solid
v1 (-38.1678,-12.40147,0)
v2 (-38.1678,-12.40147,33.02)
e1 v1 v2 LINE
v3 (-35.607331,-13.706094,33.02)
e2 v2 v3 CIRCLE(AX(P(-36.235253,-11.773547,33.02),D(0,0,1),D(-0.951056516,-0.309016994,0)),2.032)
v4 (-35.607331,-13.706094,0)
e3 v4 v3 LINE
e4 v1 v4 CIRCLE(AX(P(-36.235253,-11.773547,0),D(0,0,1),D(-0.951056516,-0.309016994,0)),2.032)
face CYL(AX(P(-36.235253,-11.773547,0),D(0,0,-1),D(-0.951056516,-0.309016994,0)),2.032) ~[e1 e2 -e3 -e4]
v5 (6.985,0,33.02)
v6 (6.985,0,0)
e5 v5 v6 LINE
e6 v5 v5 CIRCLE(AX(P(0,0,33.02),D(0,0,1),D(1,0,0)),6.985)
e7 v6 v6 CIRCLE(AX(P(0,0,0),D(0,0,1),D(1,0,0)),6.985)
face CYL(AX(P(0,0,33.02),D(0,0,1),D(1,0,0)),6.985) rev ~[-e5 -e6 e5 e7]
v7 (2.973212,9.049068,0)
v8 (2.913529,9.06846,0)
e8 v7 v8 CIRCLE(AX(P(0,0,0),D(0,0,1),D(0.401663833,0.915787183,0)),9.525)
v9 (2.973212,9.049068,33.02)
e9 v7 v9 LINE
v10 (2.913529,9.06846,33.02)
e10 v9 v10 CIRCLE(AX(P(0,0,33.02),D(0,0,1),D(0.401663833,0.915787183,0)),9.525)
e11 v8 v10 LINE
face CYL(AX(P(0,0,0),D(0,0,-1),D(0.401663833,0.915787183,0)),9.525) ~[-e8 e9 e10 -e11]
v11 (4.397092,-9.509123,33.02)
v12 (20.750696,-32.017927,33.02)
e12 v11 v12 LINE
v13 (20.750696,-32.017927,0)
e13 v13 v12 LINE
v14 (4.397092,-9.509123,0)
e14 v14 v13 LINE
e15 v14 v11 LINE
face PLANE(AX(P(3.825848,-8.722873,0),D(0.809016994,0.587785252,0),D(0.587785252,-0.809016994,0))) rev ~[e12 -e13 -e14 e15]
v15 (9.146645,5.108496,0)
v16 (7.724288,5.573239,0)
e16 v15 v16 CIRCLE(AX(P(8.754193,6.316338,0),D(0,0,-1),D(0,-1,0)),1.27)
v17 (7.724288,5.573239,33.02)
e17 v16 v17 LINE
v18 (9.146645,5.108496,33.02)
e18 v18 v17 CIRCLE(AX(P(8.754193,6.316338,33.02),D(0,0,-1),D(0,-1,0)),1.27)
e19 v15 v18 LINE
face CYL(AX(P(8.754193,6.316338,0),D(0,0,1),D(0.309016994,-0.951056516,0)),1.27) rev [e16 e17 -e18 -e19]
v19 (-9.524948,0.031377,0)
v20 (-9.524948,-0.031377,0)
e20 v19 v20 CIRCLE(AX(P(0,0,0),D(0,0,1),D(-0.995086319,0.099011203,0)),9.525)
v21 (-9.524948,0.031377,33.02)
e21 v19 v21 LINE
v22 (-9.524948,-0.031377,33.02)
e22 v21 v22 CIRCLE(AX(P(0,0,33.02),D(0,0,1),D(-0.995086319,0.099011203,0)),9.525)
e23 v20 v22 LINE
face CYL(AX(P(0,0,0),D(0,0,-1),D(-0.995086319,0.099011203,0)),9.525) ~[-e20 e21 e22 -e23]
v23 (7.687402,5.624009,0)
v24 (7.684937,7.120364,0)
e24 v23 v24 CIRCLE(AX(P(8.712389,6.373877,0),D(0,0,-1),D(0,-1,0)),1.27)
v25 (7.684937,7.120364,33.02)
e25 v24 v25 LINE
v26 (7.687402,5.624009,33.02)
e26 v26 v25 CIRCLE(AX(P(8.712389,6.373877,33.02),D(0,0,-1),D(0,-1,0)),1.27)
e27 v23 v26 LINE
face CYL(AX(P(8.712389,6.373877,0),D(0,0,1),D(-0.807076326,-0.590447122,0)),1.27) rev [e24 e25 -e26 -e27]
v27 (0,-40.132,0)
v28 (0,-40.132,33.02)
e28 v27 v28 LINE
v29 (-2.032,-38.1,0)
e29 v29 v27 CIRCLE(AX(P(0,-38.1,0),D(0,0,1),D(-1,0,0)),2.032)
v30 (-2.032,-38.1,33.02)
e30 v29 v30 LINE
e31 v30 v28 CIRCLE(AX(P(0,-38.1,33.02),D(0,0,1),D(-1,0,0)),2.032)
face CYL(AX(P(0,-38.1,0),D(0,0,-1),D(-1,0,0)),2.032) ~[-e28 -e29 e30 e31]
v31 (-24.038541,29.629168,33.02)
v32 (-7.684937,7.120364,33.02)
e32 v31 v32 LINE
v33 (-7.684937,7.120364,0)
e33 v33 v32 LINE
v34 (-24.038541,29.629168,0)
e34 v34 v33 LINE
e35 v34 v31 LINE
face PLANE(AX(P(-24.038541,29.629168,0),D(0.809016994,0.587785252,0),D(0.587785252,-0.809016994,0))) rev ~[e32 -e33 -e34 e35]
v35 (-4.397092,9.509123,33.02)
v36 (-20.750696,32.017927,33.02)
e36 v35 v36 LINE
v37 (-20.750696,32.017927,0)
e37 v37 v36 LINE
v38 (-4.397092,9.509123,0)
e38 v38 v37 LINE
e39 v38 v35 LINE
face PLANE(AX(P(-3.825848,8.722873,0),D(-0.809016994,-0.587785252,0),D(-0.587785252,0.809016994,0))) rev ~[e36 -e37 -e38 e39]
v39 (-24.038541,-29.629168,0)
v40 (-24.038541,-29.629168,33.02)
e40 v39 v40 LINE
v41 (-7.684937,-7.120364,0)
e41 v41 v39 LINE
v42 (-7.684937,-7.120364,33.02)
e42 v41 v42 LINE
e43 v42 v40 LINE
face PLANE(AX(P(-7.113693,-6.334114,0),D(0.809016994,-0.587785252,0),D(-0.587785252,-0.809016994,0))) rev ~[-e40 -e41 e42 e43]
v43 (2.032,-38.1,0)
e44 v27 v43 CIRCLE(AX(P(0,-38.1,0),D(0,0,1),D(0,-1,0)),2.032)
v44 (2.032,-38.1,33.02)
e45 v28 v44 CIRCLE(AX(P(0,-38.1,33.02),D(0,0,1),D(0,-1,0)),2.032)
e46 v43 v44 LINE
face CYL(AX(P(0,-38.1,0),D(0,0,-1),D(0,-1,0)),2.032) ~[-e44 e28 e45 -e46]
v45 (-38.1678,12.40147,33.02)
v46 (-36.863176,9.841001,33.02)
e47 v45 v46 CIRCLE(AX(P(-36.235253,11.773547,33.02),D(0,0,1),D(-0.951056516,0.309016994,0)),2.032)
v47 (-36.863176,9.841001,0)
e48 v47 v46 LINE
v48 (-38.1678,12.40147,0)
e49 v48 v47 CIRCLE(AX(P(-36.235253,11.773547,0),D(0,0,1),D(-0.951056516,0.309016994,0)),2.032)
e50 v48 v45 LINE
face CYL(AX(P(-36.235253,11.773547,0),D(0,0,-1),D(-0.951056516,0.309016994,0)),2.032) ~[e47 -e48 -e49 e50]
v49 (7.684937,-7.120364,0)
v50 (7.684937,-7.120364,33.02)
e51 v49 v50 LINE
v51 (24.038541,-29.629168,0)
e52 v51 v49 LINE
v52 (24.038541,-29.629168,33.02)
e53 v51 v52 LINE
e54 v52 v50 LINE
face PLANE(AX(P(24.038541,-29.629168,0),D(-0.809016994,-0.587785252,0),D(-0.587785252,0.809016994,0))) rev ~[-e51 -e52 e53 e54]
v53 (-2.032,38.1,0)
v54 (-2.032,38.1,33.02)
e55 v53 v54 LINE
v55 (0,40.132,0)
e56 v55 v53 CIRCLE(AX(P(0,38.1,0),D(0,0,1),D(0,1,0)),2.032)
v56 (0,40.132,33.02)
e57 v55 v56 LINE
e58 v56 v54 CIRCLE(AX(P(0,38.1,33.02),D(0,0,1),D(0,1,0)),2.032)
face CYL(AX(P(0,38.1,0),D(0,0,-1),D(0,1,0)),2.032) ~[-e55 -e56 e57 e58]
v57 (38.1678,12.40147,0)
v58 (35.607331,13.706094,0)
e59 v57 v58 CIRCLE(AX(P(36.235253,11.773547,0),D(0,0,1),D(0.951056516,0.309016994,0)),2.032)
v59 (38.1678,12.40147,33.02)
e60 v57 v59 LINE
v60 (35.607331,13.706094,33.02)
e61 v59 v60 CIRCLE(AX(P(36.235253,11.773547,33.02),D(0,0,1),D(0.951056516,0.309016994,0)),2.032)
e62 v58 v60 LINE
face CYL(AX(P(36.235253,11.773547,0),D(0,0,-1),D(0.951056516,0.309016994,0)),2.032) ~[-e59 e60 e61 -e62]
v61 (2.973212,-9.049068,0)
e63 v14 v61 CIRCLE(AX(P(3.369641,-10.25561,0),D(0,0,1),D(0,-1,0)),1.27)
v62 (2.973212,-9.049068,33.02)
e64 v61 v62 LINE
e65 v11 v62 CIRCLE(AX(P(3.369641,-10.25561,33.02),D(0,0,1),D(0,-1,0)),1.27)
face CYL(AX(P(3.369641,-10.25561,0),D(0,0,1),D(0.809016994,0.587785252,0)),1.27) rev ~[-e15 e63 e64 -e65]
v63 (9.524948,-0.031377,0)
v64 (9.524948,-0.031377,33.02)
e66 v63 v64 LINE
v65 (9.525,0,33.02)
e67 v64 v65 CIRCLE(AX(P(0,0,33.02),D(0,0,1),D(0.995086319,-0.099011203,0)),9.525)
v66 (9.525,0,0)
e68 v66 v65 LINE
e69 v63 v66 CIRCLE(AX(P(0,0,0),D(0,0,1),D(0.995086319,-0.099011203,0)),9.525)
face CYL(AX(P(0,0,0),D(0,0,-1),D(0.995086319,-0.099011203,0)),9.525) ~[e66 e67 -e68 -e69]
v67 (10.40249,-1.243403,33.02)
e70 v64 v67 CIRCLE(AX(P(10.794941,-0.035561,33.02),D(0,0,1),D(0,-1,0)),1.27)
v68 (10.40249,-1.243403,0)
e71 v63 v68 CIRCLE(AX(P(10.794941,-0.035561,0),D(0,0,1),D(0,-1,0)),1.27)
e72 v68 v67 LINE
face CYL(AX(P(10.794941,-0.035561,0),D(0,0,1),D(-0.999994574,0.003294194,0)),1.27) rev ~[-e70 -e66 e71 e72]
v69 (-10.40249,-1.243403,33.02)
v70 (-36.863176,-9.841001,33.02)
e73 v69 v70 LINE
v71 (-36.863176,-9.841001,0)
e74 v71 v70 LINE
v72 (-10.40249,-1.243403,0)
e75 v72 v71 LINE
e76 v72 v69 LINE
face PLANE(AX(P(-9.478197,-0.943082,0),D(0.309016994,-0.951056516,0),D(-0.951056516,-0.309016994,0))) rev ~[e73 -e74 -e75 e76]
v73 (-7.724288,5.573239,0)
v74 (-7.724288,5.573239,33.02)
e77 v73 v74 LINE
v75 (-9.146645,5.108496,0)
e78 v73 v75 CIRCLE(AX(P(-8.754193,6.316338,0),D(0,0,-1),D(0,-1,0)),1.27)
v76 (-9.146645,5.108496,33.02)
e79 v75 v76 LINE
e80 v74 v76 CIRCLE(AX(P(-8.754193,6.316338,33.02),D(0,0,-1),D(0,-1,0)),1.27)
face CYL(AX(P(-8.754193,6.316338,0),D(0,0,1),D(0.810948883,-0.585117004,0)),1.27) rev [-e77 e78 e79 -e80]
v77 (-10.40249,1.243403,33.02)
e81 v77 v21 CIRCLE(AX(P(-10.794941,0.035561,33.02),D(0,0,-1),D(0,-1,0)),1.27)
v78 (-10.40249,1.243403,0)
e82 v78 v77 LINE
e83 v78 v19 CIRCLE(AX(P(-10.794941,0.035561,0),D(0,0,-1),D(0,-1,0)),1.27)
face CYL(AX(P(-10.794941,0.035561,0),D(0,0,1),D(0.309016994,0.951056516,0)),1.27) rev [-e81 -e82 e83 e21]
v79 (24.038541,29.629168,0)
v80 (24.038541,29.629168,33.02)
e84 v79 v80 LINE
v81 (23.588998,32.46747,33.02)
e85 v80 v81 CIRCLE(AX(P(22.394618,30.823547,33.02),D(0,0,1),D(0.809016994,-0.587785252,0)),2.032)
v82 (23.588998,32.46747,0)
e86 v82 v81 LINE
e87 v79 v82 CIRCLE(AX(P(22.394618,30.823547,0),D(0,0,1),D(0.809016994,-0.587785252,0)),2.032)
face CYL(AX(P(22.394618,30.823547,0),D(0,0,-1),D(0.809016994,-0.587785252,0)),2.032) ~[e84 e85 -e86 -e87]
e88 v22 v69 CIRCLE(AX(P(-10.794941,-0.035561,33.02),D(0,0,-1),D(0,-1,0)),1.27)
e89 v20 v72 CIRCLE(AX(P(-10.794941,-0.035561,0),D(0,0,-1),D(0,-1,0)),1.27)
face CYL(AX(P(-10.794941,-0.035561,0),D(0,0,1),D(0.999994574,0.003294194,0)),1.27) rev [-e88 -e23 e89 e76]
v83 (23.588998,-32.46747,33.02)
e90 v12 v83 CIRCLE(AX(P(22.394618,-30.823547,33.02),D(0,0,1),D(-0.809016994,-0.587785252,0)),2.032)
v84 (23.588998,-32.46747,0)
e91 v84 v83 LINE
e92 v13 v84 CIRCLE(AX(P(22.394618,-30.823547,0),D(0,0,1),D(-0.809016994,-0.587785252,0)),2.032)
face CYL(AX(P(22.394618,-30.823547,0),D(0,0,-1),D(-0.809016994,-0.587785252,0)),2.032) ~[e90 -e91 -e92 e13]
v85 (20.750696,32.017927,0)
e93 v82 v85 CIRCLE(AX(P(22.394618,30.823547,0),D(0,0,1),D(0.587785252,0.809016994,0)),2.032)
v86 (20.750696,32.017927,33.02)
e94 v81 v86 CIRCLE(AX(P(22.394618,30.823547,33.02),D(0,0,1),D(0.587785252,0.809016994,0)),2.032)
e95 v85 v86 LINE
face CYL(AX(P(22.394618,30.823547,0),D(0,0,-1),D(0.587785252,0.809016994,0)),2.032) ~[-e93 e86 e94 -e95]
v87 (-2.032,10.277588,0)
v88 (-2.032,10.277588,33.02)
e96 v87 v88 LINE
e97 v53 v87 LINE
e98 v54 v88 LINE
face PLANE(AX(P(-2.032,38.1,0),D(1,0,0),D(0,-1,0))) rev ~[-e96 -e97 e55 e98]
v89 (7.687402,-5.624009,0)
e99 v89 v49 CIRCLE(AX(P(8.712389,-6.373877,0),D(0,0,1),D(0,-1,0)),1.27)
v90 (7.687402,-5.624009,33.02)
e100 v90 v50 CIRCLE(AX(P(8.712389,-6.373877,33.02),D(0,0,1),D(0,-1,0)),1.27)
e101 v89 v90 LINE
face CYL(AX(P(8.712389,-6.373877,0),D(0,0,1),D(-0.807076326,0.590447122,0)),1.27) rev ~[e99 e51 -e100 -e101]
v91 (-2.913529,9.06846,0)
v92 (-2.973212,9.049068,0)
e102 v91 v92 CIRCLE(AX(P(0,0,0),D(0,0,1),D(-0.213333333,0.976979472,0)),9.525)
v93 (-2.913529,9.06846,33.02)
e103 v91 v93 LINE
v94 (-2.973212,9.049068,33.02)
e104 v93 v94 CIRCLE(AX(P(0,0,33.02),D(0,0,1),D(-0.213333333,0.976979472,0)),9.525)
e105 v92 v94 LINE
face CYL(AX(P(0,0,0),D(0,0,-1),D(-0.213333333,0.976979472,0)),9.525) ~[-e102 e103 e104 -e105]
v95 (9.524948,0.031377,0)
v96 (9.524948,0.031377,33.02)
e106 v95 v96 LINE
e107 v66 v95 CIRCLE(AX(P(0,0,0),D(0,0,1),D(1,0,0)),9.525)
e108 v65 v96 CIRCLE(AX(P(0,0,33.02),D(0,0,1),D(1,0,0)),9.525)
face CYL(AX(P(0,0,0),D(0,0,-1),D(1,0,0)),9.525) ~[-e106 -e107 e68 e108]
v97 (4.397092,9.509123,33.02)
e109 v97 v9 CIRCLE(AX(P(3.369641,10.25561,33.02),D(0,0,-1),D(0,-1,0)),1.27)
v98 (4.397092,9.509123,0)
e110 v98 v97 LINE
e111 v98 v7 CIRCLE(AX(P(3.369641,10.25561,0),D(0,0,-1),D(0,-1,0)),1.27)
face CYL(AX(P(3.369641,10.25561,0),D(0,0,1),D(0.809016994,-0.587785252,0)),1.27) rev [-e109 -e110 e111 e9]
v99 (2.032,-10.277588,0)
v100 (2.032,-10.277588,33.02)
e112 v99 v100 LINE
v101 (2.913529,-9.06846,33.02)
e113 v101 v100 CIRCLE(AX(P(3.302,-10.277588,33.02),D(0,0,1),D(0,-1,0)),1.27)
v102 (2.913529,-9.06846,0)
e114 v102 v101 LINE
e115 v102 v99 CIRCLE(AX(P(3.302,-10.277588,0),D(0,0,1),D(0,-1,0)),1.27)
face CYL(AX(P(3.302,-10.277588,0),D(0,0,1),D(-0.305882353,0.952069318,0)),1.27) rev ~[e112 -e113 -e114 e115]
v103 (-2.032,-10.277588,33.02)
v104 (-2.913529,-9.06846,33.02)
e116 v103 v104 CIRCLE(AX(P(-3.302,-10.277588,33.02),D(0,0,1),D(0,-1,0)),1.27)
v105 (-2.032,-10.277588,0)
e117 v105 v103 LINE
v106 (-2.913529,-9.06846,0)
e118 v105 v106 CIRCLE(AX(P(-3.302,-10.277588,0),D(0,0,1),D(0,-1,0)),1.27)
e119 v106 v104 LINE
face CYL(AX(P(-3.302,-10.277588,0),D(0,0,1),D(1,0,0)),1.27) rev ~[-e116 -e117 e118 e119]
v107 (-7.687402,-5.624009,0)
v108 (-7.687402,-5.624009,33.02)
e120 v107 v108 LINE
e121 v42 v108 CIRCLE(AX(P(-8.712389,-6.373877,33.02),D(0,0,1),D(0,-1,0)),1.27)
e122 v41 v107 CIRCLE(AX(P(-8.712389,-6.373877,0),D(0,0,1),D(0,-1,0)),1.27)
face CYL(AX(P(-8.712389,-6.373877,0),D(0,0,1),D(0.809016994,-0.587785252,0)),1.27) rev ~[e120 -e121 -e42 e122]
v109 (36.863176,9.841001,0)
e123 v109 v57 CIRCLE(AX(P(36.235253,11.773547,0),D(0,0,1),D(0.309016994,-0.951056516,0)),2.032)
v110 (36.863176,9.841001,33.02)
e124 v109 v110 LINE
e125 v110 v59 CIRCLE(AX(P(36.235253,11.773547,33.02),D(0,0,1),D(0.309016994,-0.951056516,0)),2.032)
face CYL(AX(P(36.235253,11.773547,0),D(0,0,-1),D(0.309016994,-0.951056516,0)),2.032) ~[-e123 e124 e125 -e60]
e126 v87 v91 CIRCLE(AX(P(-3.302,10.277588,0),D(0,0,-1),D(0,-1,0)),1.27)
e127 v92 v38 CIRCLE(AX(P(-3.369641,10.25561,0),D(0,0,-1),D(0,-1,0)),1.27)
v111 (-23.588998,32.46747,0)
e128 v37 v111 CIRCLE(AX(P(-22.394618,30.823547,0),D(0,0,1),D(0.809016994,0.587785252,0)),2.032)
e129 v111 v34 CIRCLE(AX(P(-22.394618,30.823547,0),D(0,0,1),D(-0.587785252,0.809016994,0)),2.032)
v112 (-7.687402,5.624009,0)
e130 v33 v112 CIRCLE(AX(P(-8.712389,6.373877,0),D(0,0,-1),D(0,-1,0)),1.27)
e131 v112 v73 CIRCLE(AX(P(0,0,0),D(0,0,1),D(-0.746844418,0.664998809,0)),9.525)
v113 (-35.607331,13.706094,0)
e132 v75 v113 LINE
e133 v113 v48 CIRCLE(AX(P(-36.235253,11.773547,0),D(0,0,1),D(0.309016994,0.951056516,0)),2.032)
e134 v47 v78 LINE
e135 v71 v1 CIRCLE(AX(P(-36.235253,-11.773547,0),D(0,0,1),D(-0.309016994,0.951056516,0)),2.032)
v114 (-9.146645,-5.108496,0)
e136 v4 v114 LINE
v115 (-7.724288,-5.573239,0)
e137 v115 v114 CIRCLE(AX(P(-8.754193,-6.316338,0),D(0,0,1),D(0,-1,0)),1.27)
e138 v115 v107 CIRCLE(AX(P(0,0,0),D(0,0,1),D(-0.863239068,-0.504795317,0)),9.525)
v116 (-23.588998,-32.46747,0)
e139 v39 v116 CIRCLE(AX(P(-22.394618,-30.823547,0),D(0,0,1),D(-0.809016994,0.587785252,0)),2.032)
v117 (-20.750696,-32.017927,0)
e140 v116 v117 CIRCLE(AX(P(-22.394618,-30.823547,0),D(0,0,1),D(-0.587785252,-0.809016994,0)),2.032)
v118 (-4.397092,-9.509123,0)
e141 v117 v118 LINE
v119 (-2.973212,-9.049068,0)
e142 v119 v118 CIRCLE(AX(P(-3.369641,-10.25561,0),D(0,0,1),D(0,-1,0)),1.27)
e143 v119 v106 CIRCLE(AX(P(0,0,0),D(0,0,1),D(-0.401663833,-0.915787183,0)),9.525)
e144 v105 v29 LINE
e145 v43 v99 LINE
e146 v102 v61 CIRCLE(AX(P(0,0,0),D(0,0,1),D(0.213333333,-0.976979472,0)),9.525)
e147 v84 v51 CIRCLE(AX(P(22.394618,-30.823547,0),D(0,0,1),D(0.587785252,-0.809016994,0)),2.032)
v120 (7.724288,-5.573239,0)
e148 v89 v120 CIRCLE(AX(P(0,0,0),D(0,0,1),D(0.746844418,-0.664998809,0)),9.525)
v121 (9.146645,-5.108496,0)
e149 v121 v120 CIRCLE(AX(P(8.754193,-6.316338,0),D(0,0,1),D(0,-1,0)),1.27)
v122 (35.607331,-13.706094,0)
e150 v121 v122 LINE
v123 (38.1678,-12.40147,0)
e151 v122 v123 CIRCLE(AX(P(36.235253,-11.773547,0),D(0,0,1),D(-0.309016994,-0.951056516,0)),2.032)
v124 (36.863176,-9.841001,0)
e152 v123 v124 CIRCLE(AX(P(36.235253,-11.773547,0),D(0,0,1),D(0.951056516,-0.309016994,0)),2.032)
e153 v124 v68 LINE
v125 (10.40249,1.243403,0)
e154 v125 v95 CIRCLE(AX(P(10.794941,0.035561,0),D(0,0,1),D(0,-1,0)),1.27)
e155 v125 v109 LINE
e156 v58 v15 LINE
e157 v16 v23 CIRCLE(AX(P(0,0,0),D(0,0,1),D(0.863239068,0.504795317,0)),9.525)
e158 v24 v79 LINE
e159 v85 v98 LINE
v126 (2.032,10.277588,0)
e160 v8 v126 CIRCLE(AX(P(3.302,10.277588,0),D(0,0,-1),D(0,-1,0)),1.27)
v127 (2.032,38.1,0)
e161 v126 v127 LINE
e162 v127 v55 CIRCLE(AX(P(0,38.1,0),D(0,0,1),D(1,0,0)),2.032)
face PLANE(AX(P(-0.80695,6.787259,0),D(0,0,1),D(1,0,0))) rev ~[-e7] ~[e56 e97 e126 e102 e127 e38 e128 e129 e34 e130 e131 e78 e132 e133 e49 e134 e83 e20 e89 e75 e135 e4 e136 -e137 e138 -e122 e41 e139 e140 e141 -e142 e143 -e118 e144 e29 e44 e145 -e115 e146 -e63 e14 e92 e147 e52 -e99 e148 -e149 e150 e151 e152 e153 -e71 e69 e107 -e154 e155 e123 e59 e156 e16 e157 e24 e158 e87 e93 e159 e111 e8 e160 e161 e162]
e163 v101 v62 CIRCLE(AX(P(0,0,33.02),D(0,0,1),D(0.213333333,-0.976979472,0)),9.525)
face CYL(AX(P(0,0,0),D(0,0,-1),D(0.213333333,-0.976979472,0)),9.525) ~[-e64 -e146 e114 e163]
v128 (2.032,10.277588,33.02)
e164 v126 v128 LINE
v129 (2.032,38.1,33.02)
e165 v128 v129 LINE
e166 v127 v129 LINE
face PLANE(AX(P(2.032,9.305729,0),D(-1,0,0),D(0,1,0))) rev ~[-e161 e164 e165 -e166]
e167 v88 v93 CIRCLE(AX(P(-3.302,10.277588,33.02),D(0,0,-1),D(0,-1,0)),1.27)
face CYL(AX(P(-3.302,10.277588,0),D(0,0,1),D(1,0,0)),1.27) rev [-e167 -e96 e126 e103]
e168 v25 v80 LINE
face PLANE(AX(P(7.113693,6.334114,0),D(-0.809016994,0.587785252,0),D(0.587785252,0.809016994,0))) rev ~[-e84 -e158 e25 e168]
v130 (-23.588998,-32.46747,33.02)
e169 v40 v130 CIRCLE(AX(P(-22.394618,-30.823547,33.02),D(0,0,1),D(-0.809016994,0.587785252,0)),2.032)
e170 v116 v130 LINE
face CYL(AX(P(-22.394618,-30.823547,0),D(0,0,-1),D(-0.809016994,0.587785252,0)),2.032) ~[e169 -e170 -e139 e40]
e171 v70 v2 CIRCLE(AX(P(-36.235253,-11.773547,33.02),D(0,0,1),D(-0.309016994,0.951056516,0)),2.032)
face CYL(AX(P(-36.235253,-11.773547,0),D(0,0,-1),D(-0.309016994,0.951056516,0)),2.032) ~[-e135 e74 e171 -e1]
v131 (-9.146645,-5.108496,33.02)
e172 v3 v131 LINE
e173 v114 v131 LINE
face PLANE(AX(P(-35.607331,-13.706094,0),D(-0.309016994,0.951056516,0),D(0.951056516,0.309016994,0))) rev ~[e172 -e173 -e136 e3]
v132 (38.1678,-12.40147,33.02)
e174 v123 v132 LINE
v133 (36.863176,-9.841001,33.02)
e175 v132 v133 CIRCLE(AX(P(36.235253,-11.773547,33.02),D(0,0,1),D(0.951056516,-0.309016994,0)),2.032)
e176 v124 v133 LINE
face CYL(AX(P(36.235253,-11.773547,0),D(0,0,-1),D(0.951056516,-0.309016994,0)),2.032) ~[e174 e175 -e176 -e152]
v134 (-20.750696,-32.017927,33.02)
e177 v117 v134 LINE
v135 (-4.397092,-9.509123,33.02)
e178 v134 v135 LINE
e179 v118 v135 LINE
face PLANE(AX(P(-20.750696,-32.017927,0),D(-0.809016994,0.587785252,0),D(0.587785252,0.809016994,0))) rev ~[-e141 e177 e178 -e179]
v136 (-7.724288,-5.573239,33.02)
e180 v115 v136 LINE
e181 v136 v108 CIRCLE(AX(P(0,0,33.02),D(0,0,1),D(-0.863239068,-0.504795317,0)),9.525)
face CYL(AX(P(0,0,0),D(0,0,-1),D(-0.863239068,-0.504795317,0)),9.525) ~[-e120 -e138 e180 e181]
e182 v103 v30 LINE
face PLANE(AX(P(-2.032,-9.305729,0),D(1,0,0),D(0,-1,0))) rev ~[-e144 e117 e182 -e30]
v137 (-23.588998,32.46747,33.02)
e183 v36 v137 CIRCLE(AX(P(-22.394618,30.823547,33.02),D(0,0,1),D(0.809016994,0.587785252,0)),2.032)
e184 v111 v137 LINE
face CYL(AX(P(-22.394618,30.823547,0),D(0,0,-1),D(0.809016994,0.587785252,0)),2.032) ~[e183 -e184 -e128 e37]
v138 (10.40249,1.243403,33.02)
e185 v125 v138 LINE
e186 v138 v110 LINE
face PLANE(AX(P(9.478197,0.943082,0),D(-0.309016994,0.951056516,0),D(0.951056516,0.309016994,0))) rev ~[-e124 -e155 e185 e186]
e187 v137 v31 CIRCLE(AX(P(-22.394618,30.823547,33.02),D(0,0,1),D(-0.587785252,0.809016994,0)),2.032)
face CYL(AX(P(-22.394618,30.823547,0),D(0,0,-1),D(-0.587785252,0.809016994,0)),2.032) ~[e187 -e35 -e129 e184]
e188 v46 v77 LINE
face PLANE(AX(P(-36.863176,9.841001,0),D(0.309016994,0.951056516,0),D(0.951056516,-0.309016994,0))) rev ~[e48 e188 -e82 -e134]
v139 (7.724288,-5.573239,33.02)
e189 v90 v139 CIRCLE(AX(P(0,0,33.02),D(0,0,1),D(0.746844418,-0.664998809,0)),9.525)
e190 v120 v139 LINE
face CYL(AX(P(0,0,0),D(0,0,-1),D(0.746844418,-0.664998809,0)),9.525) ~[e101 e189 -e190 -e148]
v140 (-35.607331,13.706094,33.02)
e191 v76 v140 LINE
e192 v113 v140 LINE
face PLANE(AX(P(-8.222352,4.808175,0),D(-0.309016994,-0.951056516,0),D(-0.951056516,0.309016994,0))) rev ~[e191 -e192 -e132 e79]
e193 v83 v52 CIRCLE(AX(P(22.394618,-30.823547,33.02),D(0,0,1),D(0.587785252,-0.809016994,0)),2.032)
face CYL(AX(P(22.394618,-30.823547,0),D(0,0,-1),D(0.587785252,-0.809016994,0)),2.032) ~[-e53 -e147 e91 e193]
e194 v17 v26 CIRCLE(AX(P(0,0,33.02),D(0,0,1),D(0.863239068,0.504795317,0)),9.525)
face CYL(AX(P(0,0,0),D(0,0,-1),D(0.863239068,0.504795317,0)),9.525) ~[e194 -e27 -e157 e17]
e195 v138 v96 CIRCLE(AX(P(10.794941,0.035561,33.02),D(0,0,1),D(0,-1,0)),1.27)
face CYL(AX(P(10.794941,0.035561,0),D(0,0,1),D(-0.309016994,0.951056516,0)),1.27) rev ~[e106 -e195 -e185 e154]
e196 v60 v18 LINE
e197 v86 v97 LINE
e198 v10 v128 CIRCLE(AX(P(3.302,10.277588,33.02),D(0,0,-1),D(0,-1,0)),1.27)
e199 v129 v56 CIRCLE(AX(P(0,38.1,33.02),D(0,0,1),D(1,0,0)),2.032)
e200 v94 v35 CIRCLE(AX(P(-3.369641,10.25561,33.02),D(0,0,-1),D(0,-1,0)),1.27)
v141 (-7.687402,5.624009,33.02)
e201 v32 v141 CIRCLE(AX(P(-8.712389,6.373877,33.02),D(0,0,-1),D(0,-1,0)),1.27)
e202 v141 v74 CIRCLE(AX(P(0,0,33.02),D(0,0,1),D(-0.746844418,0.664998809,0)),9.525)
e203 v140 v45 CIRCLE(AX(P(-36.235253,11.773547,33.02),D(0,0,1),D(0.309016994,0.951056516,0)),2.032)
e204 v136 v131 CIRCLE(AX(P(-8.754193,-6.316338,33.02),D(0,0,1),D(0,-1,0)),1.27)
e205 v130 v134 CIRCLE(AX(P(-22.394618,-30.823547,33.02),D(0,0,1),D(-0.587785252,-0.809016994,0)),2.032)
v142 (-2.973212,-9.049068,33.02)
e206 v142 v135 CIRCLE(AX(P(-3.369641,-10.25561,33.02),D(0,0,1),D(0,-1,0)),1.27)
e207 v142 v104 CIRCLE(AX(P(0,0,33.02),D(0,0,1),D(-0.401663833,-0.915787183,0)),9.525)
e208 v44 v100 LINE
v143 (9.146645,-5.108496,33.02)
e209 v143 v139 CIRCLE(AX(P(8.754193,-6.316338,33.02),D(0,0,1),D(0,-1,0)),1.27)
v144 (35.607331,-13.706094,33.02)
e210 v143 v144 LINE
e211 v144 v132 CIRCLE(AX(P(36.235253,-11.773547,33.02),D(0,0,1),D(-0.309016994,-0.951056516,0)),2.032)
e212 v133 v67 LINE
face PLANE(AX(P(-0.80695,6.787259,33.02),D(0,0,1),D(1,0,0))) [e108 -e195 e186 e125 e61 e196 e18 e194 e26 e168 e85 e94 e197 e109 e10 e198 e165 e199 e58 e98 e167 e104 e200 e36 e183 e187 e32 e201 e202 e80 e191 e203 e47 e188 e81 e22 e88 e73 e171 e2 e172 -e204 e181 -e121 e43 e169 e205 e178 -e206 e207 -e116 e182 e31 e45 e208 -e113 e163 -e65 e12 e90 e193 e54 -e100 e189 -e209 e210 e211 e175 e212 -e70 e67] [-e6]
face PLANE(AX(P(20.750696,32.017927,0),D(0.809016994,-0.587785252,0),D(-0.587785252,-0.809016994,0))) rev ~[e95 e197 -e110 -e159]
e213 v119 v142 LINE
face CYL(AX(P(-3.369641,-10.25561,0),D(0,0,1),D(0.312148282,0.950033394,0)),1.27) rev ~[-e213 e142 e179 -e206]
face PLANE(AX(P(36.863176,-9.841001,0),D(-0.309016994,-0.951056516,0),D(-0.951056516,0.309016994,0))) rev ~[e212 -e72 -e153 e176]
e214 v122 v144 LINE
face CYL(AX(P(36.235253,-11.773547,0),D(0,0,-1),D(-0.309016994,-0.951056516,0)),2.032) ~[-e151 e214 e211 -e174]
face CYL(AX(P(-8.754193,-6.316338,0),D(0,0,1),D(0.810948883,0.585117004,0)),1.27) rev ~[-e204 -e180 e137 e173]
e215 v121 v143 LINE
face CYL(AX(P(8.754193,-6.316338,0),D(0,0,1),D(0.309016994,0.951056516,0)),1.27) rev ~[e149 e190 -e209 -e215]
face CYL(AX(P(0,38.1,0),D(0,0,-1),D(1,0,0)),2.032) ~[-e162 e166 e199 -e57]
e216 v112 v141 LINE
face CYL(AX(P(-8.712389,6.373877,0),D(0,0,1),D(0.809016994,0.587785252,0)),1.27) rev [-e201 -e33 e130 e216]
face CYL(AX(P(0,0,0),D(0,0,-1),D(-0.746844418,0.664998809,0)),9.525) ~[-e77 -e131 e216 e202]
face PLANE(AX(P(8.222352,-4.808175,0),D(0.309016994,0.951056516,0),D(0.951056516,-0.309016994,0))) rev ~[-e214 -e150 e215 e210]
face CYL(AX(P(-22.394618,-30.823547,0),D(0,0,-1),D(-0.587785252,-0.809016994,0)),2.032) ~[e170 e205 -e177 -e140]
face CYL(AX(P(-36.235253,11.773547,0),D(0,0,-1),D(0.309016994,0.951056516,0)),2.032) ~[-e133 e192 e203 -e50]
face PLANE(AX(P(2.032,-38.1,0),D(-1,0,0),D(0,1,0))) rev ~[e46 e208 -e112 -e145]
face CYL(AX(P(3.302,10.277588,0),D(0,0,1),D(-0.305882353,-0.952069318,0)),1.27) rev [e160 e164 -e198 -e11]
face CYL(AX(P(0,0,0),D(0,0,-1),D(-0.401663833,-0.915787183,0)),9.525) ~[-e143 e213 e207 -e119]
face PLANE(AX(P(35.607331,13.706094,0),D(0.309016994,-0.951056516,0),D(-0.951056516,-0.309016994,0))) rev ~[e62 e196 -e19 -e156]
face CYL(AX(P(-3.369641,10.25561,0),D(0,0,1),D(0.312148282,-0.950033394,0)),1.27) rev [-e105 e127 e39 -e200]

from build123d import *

# Parameters (mm, degrees)
F1_DEPTH = 33.02
F2_R     = 6.985
F3_DEPTH = 33.021
F4_R     = 1.27


with BuildPart() as f1:
    # F0 (on Top) → F1 (new body)
    with BuildSketch(Plane.XY):
        with BuildLine():
            Line((-2.032, 6.2538529475), (0, 3.4570448851))
            Line((0, 3.4570448851), (0, 9.525))
            ThreePointArc((0, 9.525), (-1.0218981804, 9.4700237122), (-2.032, 9.3057294717))
            Line((-2.032, 9.3057294717), (-2.032, 6.2538529475))
        make_face()
        with BuildLine():
            Line((0, 9.525), (0, 3.4570448851))
            Line((0, 3.4570448851), (2.032, 6.2538529475))
            Line((2.032, 6.2538529475), (2.032, 9.3057294717))
            ThreePointArc((2.032, 9.3057294717), (1.0218981804, 9.4700237122), (0, 9.525))
        make_face()
        with BuildLine():
            Line((-5.5986545281, 7.7058868714), (-2.032, 2.7968080624))
            Line((-2.032, 2.7968080624), (-2.032, 6.2538529475))
            Line((-2.032, 6.2538529475), (-3.8258480127, 8.7228729203))
            ThreePointArc((-3.8258480127, 8.7228729203), (-4.7396072824, 8.2620668001), (-5.5986545281, 7.7058868714))
        make_face()
        with BuildLine():
            Line((-5.3198450651, 3.8650936822), (-2.032, 2.7968080624))
            Line((-2.032, 2.7968080624), (-5.5986545281, 7.7058868714))
            ThreePointArc((-5.5986545281, 7.7058868714), (-6.3930732713, 7.0607534405), (-7.1136930778, 6.334113655))
            Line((-7.1136930778, 6.334113655), (-5.3198450651, 3.8650936822))
        make_face()
        with BuildLine():
            Line((-9.0588133177, 2.9433868714), (-3.2878450651, 1.0682856198))
            Line((-3.2878450651, 1.0682856198), (-5.3198450651, 3.8650936822))
            Line((-5.3198450651, 3.8650936822), (-8.2223521203, 4.8081753929))
            ThreePointArc((-8.2223521203, 4.8081753929), (-8.6907438566, 3.8982811877), (-9.0588133177, 2.9433868714))
        make_face()
        with BuildLine():
            Line((-6.5756901303, 0), (-3.2878450651, 1.0682856198))
            Line((-3.2878450651, 1.0682856198), (-9.0588133177, 2.9433868714))
            ThreePointArc((-9.0588133177, 2.9433868714), (-9.3223116652, 1.9545153407), (-9.4781971855, 0.9430817107))
            Line((-9.4781971855, 0.9430817107), (-6.5756901303, 0))
        make_face()
        with BuildLine():
            Line((-9.0588133177, -2.9433868714), (-3.2878450651, -1.0682856198))
            Line((-3.2878450651, -1.0682856198), (-6.5756901303, 0))
            Line((-6.5756901303, 0), (-9.4781971855, -0.9430817107))
            ThreePointArc((-9.4781971855, -0.9430817107), (-9.3223116652, -1.9545153407), (-9.0588133177, -2.9433868714))
        make_face()
        with BuildLine():
            Line((-5.3198450651, -3.8650936822), (-3.2878450651, -1.0682856198))
            Line((-3.2878450651, -1.0682856198), (-9.0588133177, -2.9433868714))
            ThreePointArc((-9.0588133177, -2.9433868714), (-8.6907438566, -3.8982811877), (-8.2223521203, -4.8081753929))
            Line((-8.2223521203, -4.8081753929), (-5.3198450651, -3.8650936822))
        make_face()
        with BuildLine():
            Line((-5.5986545281, -7.7058868714), (-2.032, -2.7968080624))
            Line((-2.032, -2.7968080624), (-5.3198450651, -3.8650936822))
            Line((-5.3198450651, -3.8650936822), (-7.1136930778, -6.334113655))
            ThreePointArc((-7.1136930778, -6.334113655), (-6.3930732713, -7.0607534405), (-5.5986545281, -7.7058868714))
        make_face()
        with BuildLine():
            Line((-2.032, -6.2538529475), (-2.032, -2.7968080624))
            Line((-2.032, -2.7968080624), (-5.5986545281, -7.7058868714))
            ThreePointArc((-5.5986545281, -7.7058868714), (-4.7396072824, -8.2620668001), (-3.8258480127, -8.7228729203))
            Line((-3.8258480127, -8.7228729203), (-2.032, -6.2538529475))
        make_face()
        with BuildLine():
            Line((0, -9.525), (0, -3.4570448851))
            Line((0, -3.4570448851), (-2.032, -6.2538529475))
            Line((-2.032, -6.2538529475), (-2.032, -9.3057294717))
            ThreePointArc((-2.032, -9.3057294717), (-1.0218981804, -9.4700237122), (0, -9.525))
        make_face()
        with BuildLine():
            Line((2.032, -6.2538529475), (0, -3.4570448851))
            Line((0, -3.4570448851), (0, -9.525))
            ThreePointArc((0, -9.525), (1.0218981804, -9.4700237122), (2.032, -9.3057294717))
            Line((2.032, -9.3057294717), (2.032, -6.2538529475))
        make_face()
        with BuildLine():
            Line((5.5986545281, -7.7058868714), (2.032, -2.7968080624))
            Line((2.032, -2.7968080624), (2.032, -6.2538529475))
            Line((2.032, -6.2538529475), (3.8258480127, -8.7228729203))
            ThreePointArc((3.8258480127, -8.7228729203), (4.7396072824, -8.2620668001), (5.5986545281, -7.7058868714))
        make_face()
        with BuildLine():
            Line((5.3198450651, -3.8650936822), (2.032, -2.7968080624))
            Line((2.032, -2.7968080624), (5.5986545281, -7.7058868714))
            ThreePointArc((5.5986545281, -7.7058868714), (6.3930732713, -7.0607534405), (7.1136930778, -6.334113655))
            Line((7.1136930778, -6.334113655), (5.3198450651, -3.8650936822))
        make_face()
        with BuildLine():
            Line((9.0588133177, -2.9433868714), (3.2878450651, -1.0682856198))
            Line((3.2878450651, -1.0682856198), (5.3198450651, -3.8650936822))
            Line((5.3198450651, -3.8650936822), (8.2223521203, -4.8081753929))
            ThreePointArc((8.2223521203, -4.8081753929), (8.6907438566, -3.8982811877), (9.0588133177, -2.9433868714))
        make_face()
        with BuildLine():
            Line((6.5756901303, 0), (3.2878450651, -1.0682856198))
            Line((3.2878450651, -1.0682856198), (9.0588133177, -2.9433868714))
            ThreePointArc((9.0588133177, -2.9433868714), (9.3223116652, -1.9545153407), (9.4781971855, -0.9430817107))
            Line((9.4781971855, -0.9430817107), (6.5756901303, 0))
        make_face()
        with BuildLine():
            Line((9.0588133177, 2.9433868714), (3.2878450651, 1.0682856198))
            Line((3.2878450651, 1.0682856198), (6.5756901303, 0))
            Line((6.5756901303, 0), (9.4781971855, 0.9430817107))
            ThreePointArc((9.4781971855, 0.9430817107), (9.3223116652, 1.9545153407), (9.0588133177, 2.9433868714))
        make_face()
        with BuildLine():
            Line((5.3198450651, 3.8650936822), (3.2878450651, 1.0682856198))
            Line((3.2878450651, 1.0682856198), (9.0588133177, 2.9433868714))
            ThreePointArc((9.0588133177, 2.9433868714), (8.6907438566, 3.8982811877), (8.2223521203, 4.8081753929))
            Line((8.2223521203, 4.8081753929), (5.3198450651, 3.8650936822))
        make_face()
        with BuildLine():
            Line((5.5986545281, 7.7058868714), (2.032, 2.7968080624))
            Line((2.032, 2.7968080624), (5.3198450651, 3.8650936822))
            Line((5.3198450651, 3.8650936822), (7.1136930778, 6.334113655))
            ThreePointArc((7.1136930778, 6.334113655), (6.3930732713, 7.0607534405), (5.5986545281, 7.7058868714))
        make_face()
        with BuildLine():
            Line((2.032, 6.2538529475), (2.032, 2.7968080624))
            Line((2.032, 2.7968080624), (5.5986545281, 7.7058868714))
            ThreePointArc((5.5986545281, 7.7058868714), (4.7396072824, 8.2620668001), (3.8258480127, 8.7228729203))
            Line((3.8258480127, 8.7228729203), (2.032, 6.2538529475))
        make_face()
        with BuildLine():
            ThreePointArc((-2.032, 9.3057294717), (-1.0218981804, 9.4700237122), (0, 9.525))
            Line((0, 9.525), (0, 40.132))
            ThreePointArc((0, 40.132), (-1.4368409794, 39.5368409794), (-2.032, 38.1))
            Line((-2.032, 38.1), (-2.032, 9.3057294717))
        make_face()
        with BuildLine():
            Line((0, 40.132), (0, 9.525))
            ThreePointArc((0, 9.525), (1.0218981804, 9.4700237122), (2.032, 9.3057294717))
            Line((2.032, 9.3057294717), (2.032, 38.1))
            ThreePointArc((2.032, 38.1), (1.4368409794, 39.5368409794), (0, 40.132))
        make_face()
        with BuildLine():
            Line((-3.8258480127, 8.7228729203), (-2.032, 6.2538529475))
            Line((-2.032, 6.2538529475), (-2.032, 9.3057294717))
            ThreePointArc((-2.032, 9.3057294717), (-2.9433868714, 9.0588133177), (-3.8258480127, 8.7228729203))
        make_face()
        with BuildLine():
            Line((2.032, 9.3057294717), (2.032, 6.2538529475))
            Line((2.032, 6.2538529475), (3.8258480127, 8.7228729203))
            ThreePointArc((3.8258480127, 8.7228729203), (2.9433868714, 9.0588133177), (2.032, 9.3057294717))
        make_face()
        with BuildLine():
            ThreePointArc((-7.1136930778, 6.334113655), (-6.3930732713, 7.0607534405), (-5.5986545281, 7.7058868714))
            Line((-5.5986545281, 7.7058868714), (-23.588997745, 32.4674700183))
            ThreePointArc((-23.588997745, 32.4674700183), (-24.4016008204, 31.1414223186), (-24.0385406449, 29.629167853))
            Line((-24.0385406449, 29.629167853), (-7.1136930778, 6.334113655))
        make_face()
        with BuildLine():
            Line((-23.588997745, 32.4674700183), (-5.5986545281, 7.7058868714))
            ThreePointArc((-5.5986545281, 7.7058868714), (-4.7396072824, 8.2620668001), (-3.8258480127, 8.7228729203))
            Line((-3.8258480127, 8.7228729203), (-20.7506955798, 32.0179271183))
            ThreePointArc((-20.7506955798, 32.0179271183), (-22.0767432794, 32.8305301938), (-23.588997745, 32.4674700183))
        make_face()
        with BuildLine():
            Line((-8.2223521203, 4.8081753929), (-5.3198450651, 3.8650936822))
            Line((-5.3198450651, 3.8650936822), (-7.1136930778, 6.334113655))
            ThreePointArc((-7.1136930778, 6.334113655), (-7.7058868714, 5.5986545281), (-8.2223521203, 4.8081753929))
        make_face()
        with BuildLine():
            ThreePointArc((-9.4781971855, 0.9430817107), (-9.3223116652, 1.9545153407), (-9.0588133177, 2.9433868714))
            Line((-9.0588133177, 2.9433868714), (-38.167800112, 12.4014700183))
            ThreePointArc((-38.167800112, 12.4014700183), (-38.045778528, 10.8510387902), (-36.8631758034, 9.8410006446))
            Line((-36.8631758034, 9.8410006446), (-9.4781971855, 0.9430817107))
        make_face()
        with BuildLine():
            Line((-38.167800112, 12.4014700183), (-9.0588133177, 2.9433868714))
            ThreePointArc((-9.0588133177, 2.9433868714), (-8.6907438566, 3.8982811877), (-8.2223521203, 4.8081753929))
            Line((-8.2223521203, 4.8081753929), (-35.6073307383, 13.7060943268))
            ThreePointArc((-35.6073307383, 13.7060943268), (-37.1577619663, 13.5840727428), (-38.167800112, 12.4014700183))
        make_face()
        with BuildLine():
            Line((-9.4781971855, -0.9430817107), (-6.5756901303, 0))
            Line((-6.5756901303, 0), (-9.4781971855, 0.9430817107))
            ThreePointArc((-9.4781971855, 0.9430817107), (-9.525, 0), (-9.4781971855, -0.9430817107))
        make_face()
        with BuildLine():
            ThreePointArc((-8.2223521203, -4.8081753929), (-8.6907438566, -3.8982811877), (-9.0588133177, -2.9433868714))
            Line((-9.0588133177, -2.9433868714), (-38.167800112, -12.4014700183))
            ThreePointArc((-38.167800112, -12.4014700183), (-37.1577619663, -13.5840727428), (-35.6073307383, -13.7060943268))
            Line((-35.6073307383, -13.7060943268), (-8.2223521203, -4.8081753929))
        make_face()
        with BuildLine():
            Line((-38.167800112, -12.4014700183), (-9.0588133177, -2.9433868714))
            ThreePointArc((-9.0588133177, -2.9433868714), (-9.3223116652, -1.9545153407), (-9.4781971855, -0.9430817107))
            Line((-9.4781971855, -0.9430817107), (-36.8631758034, -9.8410006446))
            ThreePointArc((-36.8631758034, -9.8410006446), (-38.045778528, -10.8510387902), (-38.167800112, -12.4014700183))
        make_face()
        with BuildLine():
            Line((-7.1136930778, -6.334113655), (-5.3198450651, -3.8650936822))
            Line((-5.3198450651, -3.8650936822), (-8.2223521203, -4.8081753929))
            ThreePointArc((-8.2223521203, -4.8081753929), (-7.7058868714, -5.5986545281), (-7.1136930778, -6.334113655))
        make_face()
        with BuildLine():
            ThreePointArc((-3.8258480127, -8.7228729203), (-4.7396072824, -8.2620668001), (-5.5986545281, -7.7058868714))
            Line((-5.5986545281, -7.7058868714), (-23.588997745, -32.4674700183))
            ThreePointArc((-23.588997745, -32.4674700183), (-22.0767432794, -32.8305301938), (-20.7506955798, -32.0179271183))
            Line((-20.7506955798, -32.0179271183), (-3.8258480127, -8.7228729203))
        make_face()
        with BuildLine():
            Line((-23.588997745, -32.4674700183), (-5.5986545281, -7.7058868714))
            ThreePointArc((-5.5986545281, -7.7058868714), (-6.3930732713, -7.0607534405), (-7.1136930778, -6.334113655))
            Line((-7.1136930778, -6.334113655), (-24.0385406449, -29.629167853))
            ThreePointArc((-24.0385406449, -29.629167853), (-24.4016008204, -31.1414223186), (-23.588997745, -32.4674700183))
        make_face()
        with BuildLine():
            Line((-2.032, -9.3057294717), (-2.032, -6.2538529475))
            Line((-2.032, -6.2538529475), (-3.8258480127, -8.7228729203))
            ThreePointArc((-3.8258480127, -8.7228729203), (-2.9433868714, -9.0588133177), (-2.032, -9.3057294717))
        make_face()
        with BuildLine():
            ThreePointArc((2.032, -9.3057294717), (1.0218981804, -9.4700237122), (0, -9.525))
            Line((0, -9.525), (0, -40.132))
            ThreePointArc((0, -40.132), (1.4368409794, -39.5368409794), (2.032, -38.1))
            Line((2.032, -38.1), (2.032, -9.3057294717))
        make_face()
        with BuildLine():
            Line((0, -40.132), (0, -9.525))
            ThreePointArc((0, -9.525), (-1.0218981804, -9.4700237122), (-2.032, -9.3057294717))
            Line((-2.032, -9.3057294717), (-2.032, -38.1))
            ThreePointArc((-2.032, -38.1), (-1.4368409794, -39.5368409794), (0, -40.132))
        make_face()
        with BuildLine():
            Line((3.8258480127, -8.7228729203), (2.032, -6.2538529475))
            Line((2.032, -6.2538529475), (2.032, -9.3057294717))
            ThreePointArc((2.032, -9.3057294717), (2.9433868714, -9.0588133177), (3.8258480127, -8.7228729203))
        make_face()
        with BuildLine():
            ThreePointArc((7.1136930778, -6.334113655), (6.3930732713, -7.0607534405), (5.5986545281, -7.7058868714))
            Line((5.5986545281, -7.7058868714), (23.588997745, -32.4674700183))
            ThreePointArc((23.588997745, -32.4674700183), (24.4016008204, -31.1414223186), (24.0385406449, -29.629167853))
            Line((24.0385406449, -29.629167853), (7.1136930778, -6.334113655))
        make_face()
        with BuildLine():
            Line((23.588997745, -32.4674700183), (5.5986545281, -7.7058868714))
            ThreePointArc((5.5986545281, -7.7058868714), (4.7396072824, -8.2620668001), (3.8258480127, -8.7228729203))
            Line((3.8258480127, -8.7228729203), (20.7506955798, -32.0179271183))
            ThreePointArc((20.7506955798, -32.0179271183), (22.0767432794, -32.8305301938), (23.588997745, -32.4674700183))
        make_face()
        with BuildLine():
            Line((8.2223521203, -4.8081753929), (5.3198450651, -3.8650936822))
            Line((5.3198450651, -3.8650936822), (7.1136930778, -6.334113655))
            ThreePointArc((7.1136930778, -6.334113655), (7.7058868714, -5.5986545281), (8.2223521203, -4.8081753929))
        make_face()
        with BuildLine():
            ThreePointArc((9.4781971855, -0.9430817107), (9.3223116652, -1.9545153407), (9.0588133177, -2.9433868714))
            Line((9.0588133177, -2.9433868714), (38.167800112, -12.4014700183))
            ThreePointArc((38.167800112, -12.4014700183), (38.045778528, -10.8510387902), (36.8631758034, -9.8410006446))
            Line((36.8631758034, -9.8410006446), (9.4781971855, -0.9430817107))
        make_face()
        with BuildLine():
            Line((38.167800112, -12.4014700183), (9.0588133177, -2.9433868714))
            ThreePointArc((9.0588133177, -2.9433868714), (8.6907438566, -3.8982811877), (8.2223521203, -4.8081753929))
            Line((8.2223521203, -4.8081753929), (35.6073307383, -13.7060943268))
            ThreePointArc((35.6073307383, -13.7060943268), (37.1577619663, -13.5840727428), (38.167800112, -12.4014700183))
        make_face()
        with BuildLine():
            Line((9.4781971855, 0.9430817107), (6.5756901303, 0))
            Line((6.5756901303, 0), (9.4781971855, -0.9430817107))
            ThreePointArc((9.4781971855, -0.9430817107), (9.5132921008, -0.4721211753), (9.525, 0))
            ThreePointArc((9.525, 0), (9.5132921008, 0.4721211753), (9.4781971855, 0.9430817107))
        make_face()
        with BuildLine():
            ThreePointArc((8.2223521203, 4.8081753929), (8.6907438566, 3.8982811877), (9.0588133177, 2.9433868714))
            Line((9.0588133177, 2.9433868714), (38.167800112, 12.4014700183))
            ThreePointArc((38.167800112, 12.4014700183), (37.1577619663, 13.5840727428), (35.6073307383, 13.7060943268))
            Line((35.6073307383, 13.7060943268), (8.2223521203, 4.8081753929))
        make_face()
        with BuildLine():
            Line((38.167800112, 12.4014700183), (9.0588133177, 2.9433868714))
            ThreePointArc((9.0588133177, 2.9433868714), (9.3223116652, 1.9545153407), (9.4781971855, 0.9430817107))
            Line((9.4781971855, 0.9430817107), (36.8631758034, 9.8410006446))
            ThreePointArc((36.8631758034, 9.8410006446), (38.045778528, 10.8510387902), (38.167800112, 12.4014700183))
        make_face()
        with BuildLine():
            Line((7.1136930778, 6.334113655), (5.3198450651, 3.8650936822))
            Line((5.3198450651, 3.8650936822), (8.2223521203, 4.8081753929))
            ThreePointArc((8.2223521203, 4.8081753929), (7.7058868714, 5.5986545281), (7.1136930778, 6.334113655))
        make_face()
        with BuildLine():
            ThreePointArc((3.8258480127, 8.7228729203), (4.7396072824, 8.2620668001), (5.5986545281, 7.7058868714))
            Line((5.5986545281, 7.7058868714), (23.588997745, 32.4674700183))
            ThreePointArc((23.588997745, 32.4674700183), (22.0767432794, 32.8305301938), (20.7506955798, 32.0179271183))
            Line((20.7506955798, 32.0179271183), (3.8258480127, 8.7228729203))
        make_face()
        with BuildLine():
            Line((23.588997745, 32.4674700183), (5.5986545281, 7.7058868714))
            ThreePointArc((5.5986545281, 7.7058868714), (6.3930732713, 7.0607534405), (7.1136930778, 6.334113655))
            Line((7.1136930778, 6.334113655), (24.0385406449, 29.629167853))
            ThreePointArc((24.0385406449, 29.629167853), (24.4016008204, 31.1414223186), (23.588997745, 32.4674700183))
        make_face()
    extrude(amount=F1_DEPTH)

    # F2 (on face) → F3 (cut, through all)
    with BuildSketch(Plane.XY.offset(33.02)):
        Circle(F2_R)
    extrude(amount=-F3_DEPTH, mode=Mode.SUBTRACT)

    # F4
    f4_edges = [f1.edges().sort_by_distance(p)[0] for p in [
        (8.222352, -4.808175, 16.51),
        (7.113693, -6.334114, 16.51),
        (3.825848, -8.722873, 16.51),
        (2.032, -9.305729, 16.51),
        (-2.032, -9.305729, 16.51),
        (-3.825848, -8.722873, 16.51),
        (-7.113693, -6.334114, 16.51),
        (-8.222352, -4.808175, 16.51),
        (-9.478197, -0.943082, 16.51),
        (-9.478197, 0.943082, 16.51),
        (-8.222352, 4.808175, 16.51),
        (-7.113693, 6.334114, 16.51),
        (-3.825848, 8.722873, 16.51),
        (-2.032, 9.305729, 16.51),
        (2.032, 9.305729, 16.51),
        (3.825848, 8.722873, 16.51),
        (8.222352, 4.808175, 16.51),
        (7.113693, 6.334114, 16.51),
        (9.478197, -0.943082, 16.51),
        (9.478197, 0.943082, 16.51),
    ]]
    fillet(f4_edges, radius=F4_R)


solid = f1.part
